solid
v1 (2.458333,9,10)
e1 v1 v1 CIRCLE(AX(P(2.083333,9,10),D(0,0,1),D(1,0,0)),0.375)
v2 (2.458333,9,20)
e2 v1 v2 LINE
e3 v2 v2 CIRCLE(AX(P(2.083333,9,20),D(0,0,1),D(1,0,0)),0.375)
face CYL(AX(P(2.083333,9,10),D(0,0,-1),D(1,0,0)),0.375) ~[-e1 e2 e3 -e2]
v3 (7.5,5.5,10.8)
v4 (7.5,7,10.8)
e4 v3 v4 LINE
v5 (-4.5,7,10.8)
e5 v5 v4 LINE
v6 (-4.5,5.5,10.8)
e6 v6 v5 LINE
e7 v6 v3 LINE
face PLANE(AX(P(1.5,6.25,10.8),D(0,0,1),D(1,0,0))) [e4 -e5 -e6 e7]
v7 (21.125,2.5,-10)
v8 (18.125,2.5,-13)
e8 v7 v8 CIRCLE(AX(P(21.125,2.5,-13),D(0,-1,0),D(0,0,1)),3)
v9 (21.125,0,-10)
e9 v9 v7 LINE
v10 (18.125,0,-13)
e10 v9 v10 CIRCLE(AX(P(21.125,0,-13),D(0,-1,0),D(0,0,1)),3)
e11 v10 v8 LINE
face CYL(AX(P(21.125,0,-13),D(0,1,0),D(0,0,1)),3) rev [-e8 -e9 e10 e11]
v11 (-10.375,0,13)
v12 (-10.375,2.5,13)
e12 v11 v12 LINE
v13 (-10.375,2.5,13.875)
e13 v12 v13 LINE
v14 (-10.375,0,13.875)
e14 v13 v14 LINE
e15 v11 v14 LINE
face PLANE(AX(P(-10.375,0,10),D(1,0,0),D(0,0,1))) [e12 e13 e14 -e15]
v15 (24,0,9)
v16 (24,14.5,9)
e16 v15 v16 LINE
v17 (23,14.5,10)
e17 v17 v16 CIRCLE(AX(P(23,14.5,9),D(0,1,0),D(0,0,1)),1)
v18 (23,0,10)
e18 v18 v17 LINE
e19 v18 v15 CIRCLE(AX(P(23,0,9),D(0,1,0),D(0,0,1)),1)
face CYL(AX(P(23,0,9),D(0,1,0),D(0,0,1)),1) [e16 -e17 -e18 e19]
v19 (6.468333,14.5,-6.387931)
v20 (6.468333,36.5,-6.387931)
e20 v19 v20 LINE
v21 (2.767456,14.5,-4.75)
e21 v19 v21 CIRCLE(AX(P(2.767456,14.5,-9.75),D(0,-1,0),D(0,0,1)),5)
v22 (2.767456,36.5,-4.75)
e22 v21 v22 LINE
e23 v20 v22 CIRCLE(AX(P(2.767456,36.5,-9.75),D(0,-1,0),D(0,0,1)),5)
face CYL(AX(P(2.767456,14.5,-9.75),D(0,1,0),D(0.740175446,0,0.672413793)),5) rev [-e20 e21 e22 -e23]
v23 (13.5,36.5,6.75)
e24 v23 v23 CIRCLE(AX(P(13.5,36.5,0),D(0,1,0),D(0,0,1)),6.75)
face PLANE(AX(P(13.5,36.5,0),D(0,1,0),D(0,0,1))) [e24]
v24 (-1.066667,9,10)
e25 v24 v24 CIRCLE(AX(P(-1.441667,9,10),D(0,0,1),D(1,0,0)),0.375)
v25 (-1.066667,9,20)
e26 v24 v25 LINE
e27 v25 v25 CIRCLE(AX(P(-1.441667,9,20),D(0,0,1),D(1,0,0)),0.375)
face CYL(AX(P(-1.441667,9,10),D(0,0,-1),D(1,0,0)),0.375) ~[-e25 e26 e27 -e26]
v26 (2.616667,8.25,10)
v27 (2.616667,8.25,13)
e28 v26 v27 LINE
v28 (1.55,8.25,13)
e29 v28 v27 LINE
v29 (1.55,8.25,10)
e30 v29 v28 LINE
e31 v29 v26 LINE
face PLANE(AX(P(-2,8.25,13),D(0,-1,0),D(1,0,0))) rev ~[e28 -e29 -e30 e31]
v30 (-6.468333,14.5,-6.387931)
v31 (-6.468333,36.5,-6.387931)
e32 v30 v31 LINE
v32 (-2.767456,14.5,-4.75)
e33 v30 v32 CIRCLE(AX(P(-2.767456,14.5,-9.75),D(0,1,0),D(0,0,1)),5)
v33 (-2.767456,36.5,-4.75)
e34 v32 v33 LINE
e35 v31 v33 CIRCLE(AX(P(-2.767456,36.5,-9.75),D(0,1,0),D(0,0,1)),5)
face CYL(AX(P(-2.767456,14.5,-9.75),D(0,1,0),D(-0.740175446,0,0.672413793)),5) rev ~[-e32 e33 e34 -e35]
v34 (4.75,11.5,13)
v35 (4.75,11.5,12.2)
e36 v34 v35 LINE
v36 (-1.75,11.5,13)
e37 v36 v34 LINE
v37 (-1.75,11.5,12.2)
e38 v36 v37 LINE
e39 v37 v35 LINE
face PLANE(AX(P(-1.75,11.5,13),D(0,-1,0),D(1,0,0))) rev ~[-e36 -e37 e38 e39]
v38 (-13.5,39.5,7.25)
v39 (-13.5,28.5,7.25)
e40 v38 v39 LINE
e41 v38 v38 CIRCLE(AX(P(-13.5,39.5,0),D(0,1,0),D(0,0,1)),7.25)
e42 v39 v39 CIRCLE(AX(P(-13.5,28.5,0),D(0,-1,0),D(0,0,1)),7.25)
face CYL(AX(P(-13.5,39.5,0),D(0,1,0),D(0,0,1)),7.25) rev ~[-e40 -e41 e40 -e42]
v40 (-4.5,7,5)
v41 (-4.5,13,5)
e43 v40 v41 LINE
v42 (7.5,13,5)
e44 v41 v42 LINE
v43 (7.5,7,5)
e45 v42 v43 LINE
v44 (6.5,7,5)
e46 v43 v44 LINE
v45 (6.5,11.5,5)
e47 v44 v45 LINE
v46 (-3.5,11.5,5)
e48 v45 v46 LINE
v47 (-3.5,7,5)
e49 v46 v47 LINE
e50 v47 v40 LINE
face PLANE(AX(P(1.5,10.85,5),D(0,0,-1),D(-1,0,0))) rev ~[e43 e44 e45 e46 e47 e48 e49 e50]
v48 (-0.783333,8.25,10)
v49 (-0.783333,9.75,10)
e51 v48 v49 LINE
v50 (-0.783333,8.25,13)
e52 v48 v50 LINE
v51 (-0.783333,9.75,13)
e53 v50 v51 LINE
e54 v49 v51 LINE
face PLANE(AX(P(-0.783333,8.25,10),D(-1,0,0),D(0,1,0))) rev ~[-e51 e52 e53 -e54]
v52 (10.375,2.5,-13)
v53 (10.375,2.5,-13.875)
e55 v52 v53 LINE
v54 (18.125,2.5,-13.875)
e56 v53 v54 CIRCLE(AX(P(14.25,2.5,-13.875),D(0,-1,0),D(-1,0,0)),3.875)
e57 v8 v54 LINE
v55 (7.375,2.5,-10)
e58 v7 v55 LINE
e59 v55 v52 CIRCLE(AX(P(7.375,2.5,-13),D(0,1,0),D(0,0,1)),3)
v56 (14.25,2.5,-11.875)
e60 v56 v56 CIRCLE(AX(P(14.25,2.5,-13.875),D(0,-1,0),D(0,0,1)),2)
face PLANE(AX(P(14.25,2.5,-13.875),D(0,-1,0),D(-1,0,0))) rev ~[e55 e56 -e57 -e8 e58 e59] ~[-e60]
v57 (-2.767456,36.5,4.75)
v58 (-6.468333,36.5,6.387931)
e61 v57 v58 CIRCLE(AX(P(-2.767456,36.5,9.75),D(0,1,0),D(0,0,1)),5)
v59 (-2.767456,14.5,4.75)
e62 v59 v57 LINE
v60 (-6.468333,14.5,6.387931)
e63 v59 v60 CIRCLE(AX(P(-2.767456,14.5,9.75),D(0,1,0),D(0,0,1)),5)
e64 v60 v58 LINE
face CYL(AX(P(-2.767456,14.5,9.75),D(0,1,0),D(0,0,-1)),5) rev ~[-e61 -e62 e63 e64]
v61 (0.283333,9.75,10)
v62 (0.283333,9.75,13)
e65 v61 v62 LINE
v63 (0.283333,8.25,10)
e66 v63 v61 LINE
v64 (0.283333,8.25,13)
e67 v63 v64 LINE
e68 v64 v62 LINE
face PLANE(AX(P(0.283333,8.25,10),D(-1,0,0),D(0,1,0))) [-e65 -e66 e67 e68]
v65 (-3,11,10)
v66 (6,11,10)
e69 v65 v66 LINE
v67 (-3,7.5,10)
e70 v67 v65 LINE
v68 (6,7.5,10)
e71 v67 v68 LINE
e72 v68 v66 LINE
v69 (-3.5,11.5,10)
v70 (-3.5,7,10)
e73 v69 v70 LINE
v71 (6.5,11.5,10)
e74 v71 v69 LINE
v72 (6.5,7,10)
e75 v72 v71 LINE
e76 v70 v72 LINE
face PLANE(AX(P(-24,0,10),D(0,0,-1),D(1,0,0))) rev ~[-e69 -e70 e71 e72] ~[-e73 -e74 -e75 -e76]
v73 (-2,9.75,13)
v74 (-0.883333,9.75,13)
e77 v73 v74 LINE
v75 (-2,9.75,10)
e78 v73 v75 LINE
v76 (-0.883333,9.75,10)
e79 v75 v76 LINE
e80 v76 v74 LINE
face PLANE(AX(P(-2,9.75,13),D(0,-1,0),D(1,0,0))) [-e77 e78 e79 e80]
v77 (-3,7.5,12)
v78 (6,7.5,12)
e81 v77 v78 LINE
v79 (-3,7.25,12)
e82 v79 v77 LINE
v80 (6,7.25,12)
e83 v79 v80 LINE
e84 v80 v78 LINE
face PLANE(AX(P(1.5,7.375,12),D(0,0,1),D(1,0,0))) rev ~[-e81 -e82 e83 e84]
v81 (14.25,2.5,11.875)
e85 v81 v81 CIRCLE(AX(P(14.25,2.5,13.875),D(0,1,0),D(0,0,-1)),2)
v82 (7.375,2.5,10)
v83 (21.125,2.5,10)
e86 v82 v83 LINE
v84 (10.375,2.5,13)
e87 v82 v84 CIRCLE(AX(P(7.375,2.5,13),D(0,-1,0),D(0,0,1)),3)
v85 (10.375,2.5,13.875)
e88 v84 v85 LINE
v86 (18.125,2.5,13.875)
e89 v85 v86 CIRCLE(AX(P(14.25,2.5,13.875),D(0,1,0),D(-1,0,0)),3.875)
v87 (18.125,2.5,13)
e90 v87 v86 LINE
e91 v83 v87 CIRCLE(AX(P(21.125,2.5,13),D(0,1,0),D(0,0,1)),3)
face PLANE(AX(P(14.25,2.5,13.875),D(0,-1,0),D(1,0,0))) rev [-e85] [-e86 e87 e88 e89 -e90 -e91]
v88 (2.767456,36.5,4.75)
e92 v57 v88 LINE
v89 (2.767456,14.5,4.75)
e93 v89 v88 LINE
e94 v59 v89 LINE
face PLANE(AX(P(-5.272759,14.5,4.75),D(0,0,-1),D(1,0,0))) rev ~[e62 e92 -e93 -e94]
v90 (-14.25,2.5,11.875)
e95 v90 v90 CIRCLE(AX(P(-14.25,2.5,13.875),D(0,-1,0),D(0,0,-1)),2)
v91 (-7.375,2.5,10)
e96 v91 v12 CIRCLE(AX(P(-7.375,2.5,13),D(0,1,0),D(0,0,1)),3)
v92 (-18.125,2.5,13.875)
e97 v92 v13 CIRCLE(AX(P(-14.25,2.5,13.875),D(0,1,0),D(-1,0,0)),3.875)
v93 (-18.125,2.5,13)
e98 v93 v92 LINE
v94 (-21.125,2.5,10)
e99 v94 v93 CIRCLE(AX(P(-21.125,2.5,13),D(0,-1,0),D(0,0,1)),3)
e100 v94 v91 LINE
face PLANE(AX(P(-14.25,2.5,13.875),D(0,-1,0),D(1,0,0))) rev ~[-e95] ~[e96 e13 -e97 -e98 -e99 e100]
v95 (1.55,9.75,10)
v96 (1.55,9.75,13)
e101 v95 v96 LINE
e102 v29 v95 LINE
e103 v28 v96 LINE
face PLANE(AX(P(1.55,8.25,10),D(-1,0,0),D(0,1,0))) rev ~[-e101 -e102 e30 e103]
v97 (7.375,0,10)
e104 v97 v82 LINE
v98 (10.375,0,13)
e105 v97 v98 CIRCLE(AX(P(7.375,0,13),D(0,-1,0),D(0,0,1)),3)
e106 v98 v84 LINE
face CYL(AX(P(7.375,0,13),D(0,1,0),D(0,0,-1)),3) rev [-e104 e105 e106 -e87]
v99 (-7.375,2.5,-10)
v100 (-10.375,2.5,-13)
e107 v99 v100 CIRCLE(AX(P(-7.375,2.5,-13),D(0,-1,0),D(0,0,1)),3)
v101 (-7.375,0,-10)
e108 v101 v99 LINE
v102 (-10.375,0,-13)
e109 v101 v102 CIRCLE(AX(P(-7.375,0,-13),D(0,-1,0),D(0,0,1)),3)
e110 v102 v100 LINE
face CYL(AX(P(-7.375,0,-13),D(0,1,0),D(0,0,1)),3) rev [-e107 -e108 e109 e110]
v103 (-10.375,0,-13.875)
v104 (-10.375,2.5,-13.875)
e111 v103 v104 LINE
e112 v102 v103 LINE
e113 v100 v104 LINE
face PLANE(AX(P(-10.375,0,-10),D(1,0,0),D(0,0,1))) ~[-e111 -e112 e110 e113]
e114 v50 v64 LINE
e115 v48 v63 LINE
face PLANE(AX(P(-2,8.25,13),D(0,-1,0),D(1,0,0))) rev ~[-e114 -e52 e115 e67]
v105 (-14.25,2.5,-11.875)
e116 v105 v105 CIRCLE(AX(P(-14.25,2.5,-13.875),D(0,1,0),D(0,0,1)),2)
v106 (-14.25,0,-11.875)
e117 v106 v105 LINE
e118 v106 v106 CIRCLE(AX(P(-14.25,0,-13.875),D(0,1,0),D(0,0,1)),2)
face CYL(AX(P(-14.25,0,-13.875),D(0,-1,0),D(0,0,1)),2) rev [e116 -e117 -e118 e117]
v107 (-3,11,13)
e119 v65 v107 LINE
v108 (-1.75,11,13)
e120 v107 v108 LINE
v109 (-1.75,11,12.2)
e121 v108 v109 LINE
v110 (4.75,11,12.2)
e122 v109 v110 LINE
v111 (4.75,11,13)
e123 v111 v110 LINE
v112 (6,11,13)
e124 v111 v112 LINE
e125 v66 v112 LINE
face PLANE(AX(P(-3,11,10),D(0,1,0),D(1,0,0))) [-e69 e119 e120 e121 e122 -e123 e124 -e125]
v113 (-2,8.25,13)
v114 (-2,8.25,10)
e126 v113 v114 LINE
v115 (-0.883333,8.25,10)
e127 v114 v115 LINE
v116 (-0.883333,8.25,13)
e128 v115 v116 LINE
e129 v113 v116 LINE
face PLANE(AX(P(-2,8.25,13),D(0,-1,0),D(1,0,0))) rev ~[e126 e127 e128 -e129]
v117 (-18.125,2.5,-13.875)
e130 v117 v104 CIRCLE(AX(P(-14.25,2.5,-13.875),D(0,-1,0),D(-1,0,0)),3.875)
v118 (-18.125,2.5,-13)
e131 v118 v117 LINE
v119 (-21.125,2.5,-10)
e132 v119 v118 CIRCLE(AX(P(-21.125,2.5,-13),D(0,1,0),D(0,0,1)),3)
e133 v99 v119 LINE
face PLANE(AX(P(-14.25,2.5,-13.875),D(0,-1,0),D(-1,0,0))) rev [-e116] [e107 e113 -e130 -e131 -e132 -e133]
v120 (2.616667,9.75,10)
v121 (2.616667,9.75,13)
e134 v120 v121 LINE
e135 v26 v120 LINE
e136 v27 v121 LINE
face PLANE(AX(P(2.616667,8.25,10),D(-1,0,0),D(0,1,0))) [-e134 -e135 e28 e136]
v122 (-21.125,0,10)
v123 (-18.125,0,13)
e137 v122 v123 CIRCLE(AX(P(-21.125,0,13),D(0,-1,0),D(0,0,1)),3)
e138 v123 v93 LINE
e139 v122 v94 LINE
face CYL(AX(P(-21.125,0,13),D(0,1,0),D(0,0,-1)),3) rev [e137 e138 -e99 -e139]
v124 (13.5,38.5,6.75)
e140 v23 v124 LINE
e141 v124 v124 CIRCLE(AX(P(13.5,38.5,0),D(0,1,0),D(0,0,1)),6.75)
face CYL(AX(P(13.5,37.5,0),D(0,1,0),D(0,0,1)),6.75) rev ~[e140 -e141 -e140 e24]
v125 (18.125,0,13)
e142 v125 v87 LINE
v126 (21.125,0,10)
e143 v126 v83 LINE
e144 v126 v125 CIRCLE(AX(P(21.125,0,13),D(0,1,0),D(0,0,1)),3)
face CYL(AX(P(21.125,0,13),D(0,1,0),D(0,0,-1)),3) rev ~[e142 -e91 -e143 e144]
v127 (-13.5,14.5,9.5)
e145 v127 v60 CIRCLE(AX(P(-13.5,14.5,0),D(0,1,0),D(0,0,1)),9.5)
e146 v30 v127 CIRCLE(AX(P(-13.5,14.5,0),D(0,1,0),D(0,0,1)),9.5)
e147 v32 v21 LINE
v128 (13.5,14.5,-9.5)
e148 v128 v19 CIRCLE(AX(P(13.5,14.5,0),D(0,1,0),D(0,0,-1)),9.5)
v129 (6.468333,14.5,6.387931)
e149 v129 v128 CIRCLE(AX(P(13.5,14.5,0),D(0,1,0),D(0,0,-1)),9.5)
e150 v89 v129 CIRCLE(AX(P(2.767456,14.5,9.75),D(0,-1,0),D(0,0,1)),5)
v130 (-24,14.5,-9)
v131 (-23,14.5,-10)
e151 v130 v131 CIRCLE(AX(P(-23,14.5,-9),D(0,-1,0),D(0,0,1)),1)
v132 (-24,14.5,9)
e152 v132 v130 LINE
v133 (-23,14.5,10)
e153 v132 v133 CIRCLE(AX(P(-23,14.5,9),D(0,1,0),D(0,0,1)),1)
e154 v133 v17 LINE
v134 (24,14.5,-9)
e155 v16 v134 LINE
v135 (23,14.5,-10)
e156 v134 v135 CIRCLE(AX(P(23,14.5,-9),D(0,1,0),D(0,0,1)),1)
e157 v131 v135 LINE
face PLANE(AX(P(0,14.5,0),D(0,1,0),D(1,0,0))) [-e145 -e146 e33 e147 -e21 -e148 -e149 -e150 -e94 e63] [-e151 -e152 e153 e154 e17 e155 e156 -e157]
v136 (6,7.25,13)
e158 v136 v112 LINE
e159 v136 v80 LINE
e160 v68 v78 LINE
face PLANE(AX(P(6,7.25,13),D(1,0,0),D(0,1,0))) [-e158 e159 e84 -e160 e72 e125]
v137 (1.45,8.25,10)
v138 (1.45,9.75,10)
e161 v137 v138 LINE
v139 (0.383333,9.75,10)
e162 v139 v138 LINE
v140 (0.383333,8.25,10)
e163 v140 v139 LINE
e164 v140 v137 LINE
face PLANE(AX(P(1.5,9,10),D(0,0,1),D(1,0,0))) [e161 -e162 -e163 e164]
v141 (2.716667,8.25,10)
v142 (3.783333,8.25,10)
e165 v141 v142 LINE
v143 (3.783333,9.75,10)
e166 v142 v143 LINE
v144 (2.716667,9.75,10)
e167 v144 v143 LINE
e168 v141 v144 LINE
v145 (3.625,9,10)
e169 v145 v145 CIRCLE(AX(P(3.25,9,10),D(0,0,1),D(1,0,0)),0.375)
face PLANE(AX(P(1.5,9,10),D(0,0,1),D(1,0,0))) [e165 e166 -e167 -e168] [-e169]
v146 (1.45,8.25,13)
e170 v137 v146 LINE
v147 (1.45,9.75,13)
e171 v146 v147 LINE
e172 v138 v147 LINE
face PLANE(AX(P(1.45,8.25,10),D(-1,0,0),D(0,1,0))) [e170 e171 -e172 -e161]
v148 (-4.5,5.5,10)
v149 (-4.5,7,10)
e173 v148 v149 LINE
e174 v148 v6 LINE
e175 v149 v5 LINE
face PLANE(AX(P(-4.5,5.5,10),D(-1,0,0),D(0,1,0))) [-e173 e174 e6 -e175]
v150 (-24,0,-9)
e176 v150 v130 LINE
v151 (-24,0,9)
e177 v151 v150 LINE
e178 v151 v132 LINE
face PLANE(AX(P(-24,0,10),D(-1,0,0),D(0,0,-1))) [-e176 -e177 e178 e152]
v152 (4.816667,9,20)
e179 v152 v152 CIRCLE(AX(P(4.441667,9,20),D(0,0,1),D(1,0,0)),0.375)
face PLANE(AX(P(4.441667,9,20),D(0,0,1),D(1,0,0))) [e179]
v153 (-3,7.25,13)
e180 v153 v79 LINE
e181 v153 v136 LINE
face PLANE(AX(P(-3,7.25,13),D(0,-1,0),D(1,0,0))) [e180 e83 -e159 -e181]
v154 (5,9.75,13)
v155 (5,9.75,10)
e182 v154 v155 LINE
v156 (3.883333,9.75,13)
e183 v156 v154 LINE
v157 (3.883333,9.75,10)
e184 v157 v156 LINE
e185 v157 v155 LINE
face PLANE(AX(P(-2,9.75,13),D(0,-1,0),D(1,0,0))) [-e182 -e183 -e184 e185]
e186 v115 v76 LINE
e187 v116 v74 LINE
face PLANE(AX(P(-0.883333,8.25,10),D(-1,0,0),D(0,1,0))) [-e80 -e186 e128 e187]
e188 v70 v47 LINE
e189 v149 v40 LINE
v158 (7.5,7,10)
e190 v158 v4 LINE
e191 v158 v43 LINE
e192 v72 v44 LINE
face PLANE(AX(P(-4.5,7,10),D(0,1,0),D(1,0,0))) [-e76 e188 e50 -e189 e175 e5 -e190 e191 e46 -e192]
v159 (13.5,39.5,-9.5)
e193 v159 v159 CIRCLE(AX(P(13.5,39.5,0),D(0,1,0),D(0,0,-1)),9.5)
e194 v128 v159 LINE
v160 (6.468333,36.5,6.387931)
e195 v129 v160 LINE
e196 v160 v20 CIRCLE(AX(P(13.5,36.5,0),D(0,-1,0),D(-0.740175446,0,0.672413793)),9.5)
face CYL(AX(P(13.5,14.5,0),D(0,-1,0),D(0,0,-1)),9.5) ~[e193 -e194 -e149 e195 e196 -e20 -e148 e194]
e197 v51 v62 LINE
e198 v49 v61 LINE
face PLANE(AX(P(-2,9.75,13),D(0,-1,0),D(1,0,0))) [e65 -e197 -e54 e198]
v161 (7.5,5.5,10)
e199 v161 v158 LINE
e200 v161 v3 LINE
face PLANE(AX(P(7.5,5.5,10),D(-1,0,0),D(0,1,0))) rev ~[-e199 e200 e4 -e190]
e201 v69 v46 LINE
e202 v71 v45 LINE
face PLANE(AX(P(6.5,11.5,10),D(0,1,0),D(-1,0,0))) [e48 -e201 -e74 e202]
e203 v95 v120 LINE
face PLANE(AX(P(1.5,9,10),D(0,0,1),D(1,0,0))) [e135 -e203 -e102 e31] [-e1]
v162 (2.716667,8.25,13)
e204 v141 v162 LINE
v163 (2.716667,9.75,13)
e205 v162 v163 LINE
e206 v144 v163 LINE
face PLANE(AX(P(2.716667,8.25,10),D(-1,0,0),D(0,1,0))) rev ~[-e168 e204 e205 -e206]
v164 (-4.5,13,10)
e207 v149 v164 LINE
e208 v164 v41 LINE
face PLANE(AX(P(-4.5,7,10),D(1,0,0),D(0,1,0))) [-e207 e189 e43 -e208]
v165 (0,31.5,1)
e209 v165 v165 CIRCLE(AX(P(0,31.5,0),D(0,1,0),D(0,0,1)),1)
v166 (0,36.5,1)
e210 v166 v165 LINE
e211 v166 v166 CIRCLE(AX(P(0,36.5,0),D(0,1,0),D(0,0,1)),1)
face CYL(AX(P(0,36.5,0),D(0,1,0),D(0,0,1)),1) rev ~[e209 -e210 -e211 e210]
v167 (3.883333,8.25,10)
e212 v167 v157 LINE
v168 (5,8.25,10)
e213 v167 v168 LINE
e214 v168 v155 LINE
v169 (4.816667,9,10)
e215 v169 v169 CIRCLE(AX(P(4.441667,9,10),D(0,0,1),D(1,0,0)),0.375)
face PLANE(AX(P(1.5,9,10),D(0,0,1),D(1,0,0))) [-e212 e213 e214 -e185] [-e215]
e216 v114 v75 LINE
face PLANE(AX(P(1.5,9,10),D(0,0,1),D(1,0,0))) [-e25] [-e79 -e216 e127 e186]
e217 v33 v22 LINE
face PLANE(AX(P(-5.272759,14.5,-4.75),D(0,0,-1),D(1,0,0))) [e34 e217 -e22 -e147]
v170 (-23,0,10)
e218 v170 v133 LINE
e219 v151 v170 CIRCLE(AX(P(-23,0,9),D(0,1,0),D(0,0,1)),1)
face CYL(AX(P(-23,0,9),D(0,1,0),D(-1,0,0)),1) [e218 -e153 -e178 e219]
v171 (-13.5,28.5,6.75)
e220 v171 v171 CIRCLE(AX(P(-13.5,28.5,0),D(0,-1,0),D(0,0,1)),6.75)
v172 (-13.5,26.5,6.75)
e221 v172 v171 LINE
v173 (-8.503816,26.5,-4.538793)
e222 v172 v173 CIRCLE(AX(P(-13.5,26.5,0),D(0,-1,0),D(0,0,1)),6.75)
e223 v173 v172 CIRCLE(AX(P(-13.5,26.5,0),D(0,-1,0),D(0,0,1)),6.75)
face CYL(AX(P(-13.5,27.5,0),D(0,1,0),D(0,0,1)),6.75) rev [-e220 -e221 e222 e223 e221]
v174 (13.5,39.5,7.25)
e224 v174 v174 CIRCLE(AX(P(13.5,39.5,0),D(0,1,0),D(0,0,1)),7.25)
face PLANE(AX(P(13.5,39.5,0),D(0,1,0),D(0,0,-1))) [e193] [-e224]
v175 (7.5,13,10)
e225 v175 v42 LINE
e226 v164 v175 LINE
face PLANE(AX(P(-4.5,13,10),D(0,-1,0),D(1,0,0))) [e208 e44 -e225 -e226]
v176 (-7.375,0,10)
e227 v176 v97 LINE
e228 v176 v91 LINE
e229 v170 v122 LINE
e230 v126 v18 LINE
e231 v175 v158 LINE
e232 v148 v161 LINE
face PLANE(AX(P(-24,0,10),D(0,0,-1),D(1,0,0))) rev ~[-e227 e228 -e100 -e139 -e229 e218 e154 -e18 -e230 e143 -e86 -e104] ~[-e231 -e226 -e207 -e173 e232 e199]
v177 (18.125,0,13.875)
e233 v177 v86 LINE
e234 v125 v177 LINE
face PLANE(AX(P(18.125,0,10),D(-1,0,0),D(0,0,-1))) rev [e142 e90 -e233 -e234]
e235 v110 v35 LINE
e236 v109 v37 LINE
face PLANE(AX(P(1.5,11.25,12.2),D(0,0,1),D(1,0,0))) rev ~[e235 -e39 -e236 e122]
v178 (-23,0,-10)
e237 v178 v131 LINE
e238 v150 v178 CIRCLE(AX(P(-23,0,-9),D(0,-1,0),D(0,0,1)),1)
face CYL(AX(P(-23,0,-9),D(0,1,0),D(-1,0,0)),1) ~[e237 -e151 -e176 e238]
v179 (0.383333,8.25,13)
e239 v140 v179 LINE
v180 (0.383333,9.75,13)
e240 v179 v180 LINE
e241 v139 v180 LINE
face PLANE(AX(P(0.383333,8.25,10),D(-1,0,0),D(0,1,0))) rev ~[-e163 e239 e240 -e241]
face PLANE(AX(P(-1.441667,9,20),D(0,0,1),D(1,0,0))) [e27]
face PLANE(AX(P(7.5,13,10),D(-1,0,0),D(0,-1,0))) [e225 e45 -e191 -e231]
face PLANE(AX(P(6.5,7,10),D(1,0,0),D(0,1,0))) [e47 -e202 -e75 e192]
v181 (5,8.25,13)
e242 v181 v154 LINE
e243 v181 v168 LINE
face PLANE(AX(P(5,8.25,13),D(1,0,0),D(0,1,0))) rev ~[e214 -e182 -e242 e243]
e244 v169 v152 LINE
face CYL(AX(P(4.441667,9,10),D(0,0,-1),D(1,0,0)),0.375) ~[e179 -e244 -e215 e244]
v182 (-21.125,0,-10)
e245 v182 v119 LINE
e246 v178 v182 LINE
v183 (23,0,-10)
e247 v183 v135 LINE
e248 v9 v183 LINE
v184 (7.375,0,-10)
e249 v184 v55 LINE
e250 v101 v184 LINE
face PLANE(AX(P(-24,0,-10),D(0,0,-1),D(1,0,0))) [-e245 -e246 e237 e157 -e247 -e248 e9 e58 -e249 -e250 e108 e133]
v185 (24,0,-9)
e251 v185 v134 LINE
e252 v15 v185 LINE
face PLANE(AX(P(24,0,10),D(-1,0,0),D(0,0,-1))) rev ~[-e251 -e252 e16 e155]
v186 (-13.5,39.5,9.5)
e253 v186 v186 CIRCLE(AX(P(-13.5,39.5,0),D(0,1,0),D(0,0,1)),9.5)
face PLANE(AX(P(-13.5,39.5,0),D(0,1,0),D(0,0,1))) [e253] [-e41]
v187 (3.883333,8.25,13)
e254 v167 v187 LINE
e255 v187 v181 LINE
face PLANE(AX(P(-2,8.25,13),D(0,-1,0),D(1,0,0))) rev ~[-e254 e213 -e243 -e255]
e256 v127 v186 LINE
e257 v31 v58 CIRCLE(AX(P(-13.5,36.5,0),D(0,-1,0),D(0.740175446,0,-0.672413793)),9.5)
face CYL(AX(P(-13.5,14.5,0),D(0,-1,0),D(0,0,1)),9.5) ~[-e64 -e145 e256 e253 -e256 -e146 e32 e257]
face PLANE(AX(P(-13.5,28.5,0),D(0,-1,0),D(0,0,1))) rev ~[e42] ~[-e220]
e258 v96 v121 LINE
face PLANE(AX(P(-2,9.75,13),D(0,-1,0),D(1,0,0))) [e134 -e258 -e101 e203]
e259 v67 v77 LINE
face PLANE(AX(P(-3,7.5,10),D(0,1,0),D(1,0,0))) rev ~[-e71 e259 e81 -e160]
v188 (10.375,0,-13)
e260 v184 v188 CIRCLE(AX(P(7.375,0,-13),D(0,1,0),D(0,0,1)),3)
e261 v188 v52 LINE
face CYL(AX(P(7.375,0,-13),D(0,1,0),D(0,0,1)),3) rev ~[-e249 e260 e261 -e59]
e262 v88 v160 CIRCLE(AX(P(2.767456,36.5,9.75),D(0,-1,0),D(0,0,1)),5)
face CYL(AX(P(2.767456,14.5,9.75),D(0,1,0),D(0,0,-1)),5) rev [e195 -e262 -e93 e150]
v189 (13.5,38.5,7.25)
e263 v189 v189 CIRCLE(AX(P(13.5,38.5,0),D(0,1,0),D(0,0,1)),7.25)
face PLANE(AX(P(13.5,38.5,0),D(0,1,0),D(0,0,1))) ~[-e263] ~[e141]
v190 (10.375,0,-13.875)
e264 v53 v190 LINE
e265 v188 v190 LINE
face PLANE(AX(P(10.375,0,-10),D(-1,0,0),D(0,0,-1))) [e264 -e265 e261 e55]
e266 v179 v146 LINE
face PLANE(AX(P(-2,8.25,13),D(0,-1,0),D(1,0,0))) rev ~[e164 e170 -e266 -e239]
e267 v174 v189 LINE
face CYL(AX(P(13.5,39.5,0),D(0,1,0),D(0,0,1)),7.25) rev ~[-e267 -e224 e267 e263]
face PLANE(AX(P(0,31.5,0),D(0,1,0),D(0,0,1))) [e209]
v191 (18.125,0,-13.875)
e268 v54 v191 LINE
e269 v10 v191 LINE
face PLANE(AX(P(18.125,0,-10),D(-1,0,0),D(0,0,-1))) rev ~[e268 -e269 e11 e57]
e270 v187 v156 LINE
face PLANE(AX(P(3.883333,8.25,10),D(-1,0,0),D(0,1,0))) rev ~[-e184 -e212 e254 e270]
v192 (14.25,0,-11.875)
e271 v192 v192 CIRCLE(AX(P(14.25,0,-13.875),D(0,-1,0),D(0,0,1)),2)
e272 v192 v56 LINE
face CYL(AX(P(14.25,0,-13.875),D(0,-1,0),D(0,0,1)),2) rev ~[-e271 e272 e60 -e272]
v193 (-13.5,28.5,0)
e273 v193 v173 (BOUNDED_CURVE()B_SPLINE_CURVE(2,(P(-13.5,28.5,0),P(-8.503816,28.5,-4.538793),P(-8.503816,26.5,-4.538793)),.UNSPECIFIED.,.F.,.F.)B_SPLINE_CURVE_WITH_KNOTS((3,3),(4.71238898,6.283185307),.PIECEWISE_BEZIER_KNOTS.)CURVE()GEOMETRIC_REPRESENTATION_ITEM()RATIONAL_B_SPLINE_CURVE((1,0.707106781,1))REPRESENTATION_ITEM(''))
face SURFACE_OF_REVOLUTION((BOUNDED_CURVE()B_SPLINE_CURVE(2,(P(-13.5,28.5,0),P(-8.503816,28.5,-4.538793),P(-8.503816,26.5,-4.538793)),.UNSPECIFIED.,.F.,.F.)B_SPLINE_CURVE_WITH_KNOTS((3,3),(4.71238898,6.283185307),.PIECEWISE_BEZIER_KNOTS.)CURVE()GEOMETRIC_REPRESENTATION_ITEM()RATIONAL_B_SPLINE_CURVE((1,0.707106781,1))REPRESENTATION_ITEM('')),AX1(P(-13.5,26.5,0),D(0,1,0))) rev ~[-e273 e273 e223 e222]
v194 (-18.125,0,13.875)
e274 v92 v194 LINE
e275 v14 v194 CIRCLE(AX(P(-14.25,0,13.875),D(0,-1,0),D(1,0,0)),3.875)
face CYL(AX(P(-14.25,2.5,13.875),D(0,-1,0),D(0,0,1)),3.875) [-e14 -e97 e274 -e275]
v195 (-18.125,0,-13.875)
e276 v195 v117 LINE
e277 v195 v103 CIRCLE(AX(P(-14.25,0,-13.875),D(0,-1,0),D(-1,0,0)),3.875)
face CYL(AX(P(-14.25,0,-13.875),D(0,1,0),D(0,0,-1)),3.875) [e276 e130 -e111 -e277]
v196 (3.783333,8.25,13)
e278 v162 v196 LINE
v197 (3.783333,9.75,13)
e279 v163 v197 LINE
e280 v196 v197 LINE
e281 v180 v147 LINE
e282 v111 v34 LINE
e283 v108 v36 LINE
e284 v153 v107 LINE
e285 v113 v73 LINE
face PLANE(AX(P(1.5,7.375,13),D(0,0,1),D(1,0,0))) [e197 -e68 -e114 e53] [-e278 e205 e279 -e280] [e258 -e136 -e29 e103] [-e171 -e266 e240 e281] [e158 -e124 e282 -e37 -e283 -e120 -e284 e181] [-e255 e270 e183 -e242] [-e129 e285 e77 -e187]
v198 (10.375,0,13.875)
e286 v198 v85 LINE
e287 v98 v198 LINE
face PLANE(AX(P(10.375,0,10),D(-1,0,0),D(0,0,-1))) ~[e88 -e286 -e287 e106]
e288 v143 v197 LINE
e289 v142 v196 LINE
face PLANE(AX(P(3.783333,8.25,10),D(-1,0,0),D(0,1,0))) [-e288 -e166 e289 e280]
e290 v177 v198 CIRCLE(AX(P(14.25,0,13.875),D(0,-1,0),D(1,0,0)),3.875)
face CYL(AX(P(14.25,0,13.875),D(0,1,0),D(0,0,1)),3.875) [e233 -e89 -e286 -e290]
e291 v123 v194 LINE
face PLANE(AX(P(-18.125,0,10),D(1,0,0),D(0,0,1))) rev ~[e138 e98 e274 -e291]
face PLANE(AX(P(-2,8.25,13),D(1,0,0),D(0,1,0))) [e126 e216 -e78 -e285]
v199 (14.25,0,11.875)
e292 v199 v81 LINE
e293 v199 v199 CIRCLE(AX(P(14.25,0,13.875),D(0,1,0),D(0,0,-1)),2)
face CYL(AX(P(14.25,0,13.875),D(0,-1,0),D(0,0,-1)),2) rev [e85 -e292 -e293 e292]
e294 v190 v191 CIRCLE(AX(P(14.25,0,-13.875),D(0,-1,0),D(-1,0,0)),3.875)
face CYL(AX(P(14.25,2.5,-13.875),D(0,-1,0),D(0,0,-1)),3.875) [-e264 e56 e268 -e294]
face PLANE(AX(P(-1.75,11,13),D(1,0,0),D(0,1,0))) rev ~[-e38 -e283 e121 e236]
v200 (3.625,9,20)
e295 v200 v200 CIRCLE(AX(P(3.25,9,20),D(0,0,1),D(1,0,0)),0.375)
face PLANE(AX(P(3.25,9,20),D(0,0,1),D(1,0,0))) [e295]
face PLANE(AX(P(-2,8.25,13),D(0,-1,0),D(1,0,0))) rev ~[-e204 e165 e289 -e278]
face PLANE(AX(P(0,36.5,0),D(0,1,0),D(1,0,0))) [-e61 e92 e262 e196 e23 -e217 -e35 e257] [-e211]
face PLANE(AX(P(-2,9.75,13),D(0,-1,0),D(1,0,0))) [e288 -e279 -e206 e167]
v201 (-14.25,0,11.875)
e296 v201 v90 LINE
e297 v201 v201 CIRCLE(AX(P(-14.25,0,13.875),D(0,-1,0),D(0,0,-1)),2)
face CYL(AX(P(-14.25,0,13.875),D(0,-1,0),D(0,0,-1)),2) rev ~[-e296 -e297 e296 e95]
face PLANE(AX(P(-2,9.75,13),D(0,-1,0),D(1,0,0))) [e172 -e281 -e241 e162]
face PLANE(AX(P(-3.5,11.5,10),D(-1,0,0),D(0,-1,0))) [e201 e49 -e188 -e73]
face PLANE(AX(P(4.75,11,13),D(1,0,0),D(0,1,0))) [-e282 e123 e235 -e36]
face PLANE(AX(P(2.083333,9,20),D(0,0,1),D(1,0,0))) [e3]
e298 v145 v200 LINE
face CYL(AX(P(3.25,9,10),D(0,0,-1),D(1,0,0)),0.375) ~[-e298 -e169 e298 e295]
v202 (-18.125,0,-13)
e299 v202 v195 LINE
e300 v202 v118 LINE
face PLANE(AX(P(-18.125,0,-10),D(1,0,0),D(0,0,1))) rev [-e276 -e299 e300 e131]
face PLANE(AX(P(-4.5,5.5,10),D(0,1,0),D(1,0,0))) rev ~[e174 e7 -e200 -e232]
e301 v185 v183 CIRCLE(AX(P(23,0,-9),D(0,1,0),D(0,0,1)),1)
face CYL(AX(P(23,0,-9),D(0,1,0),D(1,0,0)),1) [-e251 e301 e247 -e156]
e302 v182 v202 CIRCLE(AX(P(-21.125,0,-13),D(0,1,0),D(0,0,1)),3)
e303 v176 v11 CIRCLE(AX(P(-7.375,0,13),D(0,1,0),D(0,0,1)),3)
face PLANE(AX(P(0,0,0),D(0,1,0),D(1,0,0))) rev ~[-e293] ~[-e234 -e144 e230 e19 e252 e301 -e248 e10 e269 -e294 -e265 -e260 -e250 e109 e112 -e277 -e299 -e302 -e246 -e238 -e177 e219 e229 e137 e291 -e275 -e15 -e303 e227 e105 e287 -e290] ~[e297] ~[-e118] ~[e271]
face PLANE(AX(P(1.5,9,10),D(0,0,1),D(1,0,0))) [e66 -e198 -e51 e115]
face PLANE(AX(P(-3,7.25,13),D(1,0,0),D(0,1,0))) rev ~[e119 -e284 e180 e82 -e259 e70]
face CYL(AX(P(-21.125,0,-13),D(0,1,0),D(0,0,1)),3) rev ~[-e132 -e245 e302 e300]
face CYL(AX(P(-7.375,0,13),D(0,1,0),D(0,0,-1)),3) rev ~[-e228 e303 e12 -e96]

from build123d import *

# Parameters (mm, degrees)
SKETCH1_W               = 48
SKETCH1_H               = 20
BOSS_EXTRUDE1_DEPTH     = 14.5
FILLET1_R               = 1
SKETCH2_R               = 9.5
BOSS_EXTRUDE2_DEPTH     = 25
SKETCH3_W               = 10.545517328
SKETCH3_H               = 9.5
BOSS_EXTRUDE3_DEPTH     = 22
FILLET2_R               = 5
SKETCH4_R               = 1
CUT_EXTRUDE1_DEPTH      = 5
SKETCH5_R               = 7.25
CUT_EXTRUDE2_DEPTH      = 13
SKETCH6_W               = 0.5
SKETCH6_H               = 2
SKETCH8_R               = 7.25
CUT_EXTRUDE3_DEPTH      = 3
SKETCH9_W               = 0.5
SKETCH9_H               = 2
SKETCH11_W              = 9
SKETCH11_H              = 3.5
BOSS_EXTRUDE4_DEPTH     = 3
SKETCH12_W              = 6.5
SKETCH12_H              = 0.5
BOSS_EXTRUDE5_DEPTH     = 0.8
SKETCH13_W              = 9
SKETCH13_H              = 0.25
BOSS_EXTRUDE6_DEPTH     = 1
SKETCH14_W              = 12
SKETCH14_H              = 1.5
BOSS_EXTRUDE7_DEPTH     = 0.8
CUT_EXTRUDE4_DEPTH      = 5
SKETCH16_W              = 7.75
SKETCH16_H              = 7.75
SKETCH16_R              = 2
BOSS_EXTRUDE8_DEPTH     = 2.5
MIRROR4_COPY_1_SKETCH_W = 7.75
MIRROR4_COPY_1_SKETCH_H = 7.75
MIRROR4_COPY_1_SKETCH_R = 2
MIRROR4_COPY_1_DEPTH    = 2.5
FILLET3_RADIUS          = 3.875
FILLET3_LENGTH          = 2.5
FILLET5_RADIUS          = 3.875
FILLET5_LENGTH          = 2.5
FILLET6_RADIUS          = 3.875
FILLET6_LENGTH          = 2.5
FILLET7_RADIUS          = 3.875
FILLET7_LENGTH          = 2.5
FILLET4_R               = 3
SKETCH17_W              = 7
SKETCH17_H              = 1.5
CUT_EXTRUDE5_DEPTH      = 3
SKETCH18_W              = 0.1
SKETCH18_H              = 1.5
BOSS_EXTRUDE9_DEPTH     = 3
SKETCH19_R              = 0.375
BOSS_EXTRUDE10_DEPTH    = 10


with BuildPart() as part:
    # Sketch1 → Boss-Extrude1 (new body)
    with BuildSketch(Plane(origin=(0, 0, 0), x_dir=(1, 0, 0), z_dir=(0, 1, 0))):
        Rectangle(SKETCH1_W, SKETCH1_H)
    extrude(amount=BOSS_EXTRUDE1_DEPTH)

    # Fillet1
    fillet1_edges = [part.edges().sort_by_distance(p)[0] for p in [
        (-24, 7.25, -10),
        (24, 7.25, -10),
        (24, 7.25, 10),
        (-24, 7.25, 10),
    ]]
    fillet(fillet1_edges, radius=FILLET1_R)

    # Sketch2 → Boss-Extrude2 (add)
    with BuildSketch(Plane(origin=(0, 14.5, 0), x_dir=(1, 0, 0), z_dir=(0, 1, 0))):
        with Locations(Location((-13.5, 0, 0), (0, 0, 270))):
            Circle(SKETCH2_R)
        with Locations(Location((13.5, 0, 0), (0, 0, 90))):
            Circle(SKETCH2_R)
    extrude(amount=BOSS_EXTRUDE2_DEPTH)

    # Sketch3 → Boss-Extrude3 (add)
    with BuildSketch(Plane(origin=(0, 14.5, 0), x_dir=(1, 0, 0), z_dir=(0, 1, 0))):
        Rectangle(SKETCH3_W, SKETCH3_H)
    extrude(amount=BOSS_EXTRUDE3_DEPTH)

    # Fillet2
    fillet2_edges = [part.edges().sort_by_distance(p)[0] for p in [
        (-5.272758664, 25.5, -4.75),
        (-5.272758664, 25.5, 4.75),
        (5.272758664, 25.5, 4.75),
        (5.272758664, 25.5, -4.75),
    ]]
    fillet(fillet2_edges, radius=FILLET2_R)

    # Sketch4 → Cut-Extrude1 (cut)
    with BuildSketch(Plane(origin=(0, 36.5, 0), x_dir=(1, 0, 0), z_dir=(0, 1, 0))):
        with Locations(Location((0, 0, 0), (0, 0, 270))):
            Circle(SKETCH4_R)
    extrude(amount=-CUT_EXTRUDE1_DEPTH, mode=Mode.SUBTRACT)

    # Sketch5 → Cut-Extrude2 (cut)
    with BuildSketch(Plane(origin=(0, 39.5, 0), x_dir=(1, 0, 0), z_dir=(0, 1, 0))):
        with Locations(Location((-13.5, 0, 0), (0, 0, 270))):
            Circle(SKETCH5_R)
    extrude(amount=-CUT_EXTRUDE2_DEPTH, mode=Mode.SUBTRACT)

    # Sketch6 → Revolve1 (revolve)
    with BuildSketch(Plane.XY, mode=Mode.PRIVATE) as revolve1_sk:
        with Locations((-20.5, 27.5)):
            Rectangle(SKETCH6_W, SKETCH6_H)
    revolve(revolve1_sk.sketch.rotate(Axis((-13.5, 39.5, 0), (0, -1, 0)), 270), axis=Axis((-13.5, 39.5, 0), (0, -1, 0)))

    # Sketch7 → Revolve2 (revolve)
    with BuildSketch(Plane.XY, mode=Mode.PRIVATE) as revolve2_sk:
        with BuildLine():
            Line((-20.25, 26.5), (-13.5, 26.5))
            Line((-13.5, 26.5), (-13.5, 28.5))
            add(Edge.make_bspline(
                [(-13.5, 28.5), (-20.25, 28.5), (-20.25, 26.5)],
                knots=[4.71238898, 4.71238898, 4.71238898, 6.283185307, 6.283185307, 6.283185307], degree=2, weights=[1, 0.707106781, 1]))
        make_face()
    revolve(revolve2_sk.sketch.rotate(Axis((-13.5, 26.5, 0), (0, 1, 0)), 222.253636979), axis=Axis((-13.5, 26.5, 0), (0, 1, 0)))

    # Sketch8 → Cut-Extrude3 (cut)
    with BuildSketch(Plane(origin=(0, 39.5, 0), x_dir=(1, 0, 0), z_dir=(0, 1, 0))):
        with Locations(Location((13.5, 0, 0), (0, 0, 270))):
            Circle(SKETCH8_R)
    extrude(amount=-CUT_EXTRUDE3_DEPTH, mode=Mode.SUBTRACT)

    # Sketch9 → Revolve3 (revolve)
    with BuildSketch(Plane.XY, mode=Mode.PRIVATE) as revolve3_sk:
        with Locations((20.5, 37.5)):
            Rectangle(SKETCH9_W, SKETCH9_H)
    revolve(revolve3_sk.sketch.rotate(Axis((13.5, 36.5, 0), (0, 1, 0)), 270), axis=Axis((13.5, 36.5, 0), (0, 1, 0)))

    # Sketch11 → Boss-Extrude4 (add)
    with BuildSketch(Plane.XY.offset(10)):
        with Locations((1.5, 9.25)):
            Rectangle(SKETCH11_W, SKETCH11_H)
    extrude(amount=BOSS_EXTRUDE4_DEPTH)

    # Sketch12 → Boss-Extrude5 (add)
    with BuildSketch(Plane.XY.offset(13)):
        with Locations((1.5, 11.25)):
            Rectangle(SKETCH12_W, SKETCH12_H)
    extrude(amount=-BOSS_EXTRUDE5_DEPTH)

    # Sketch13 → Boss-Extrude6 (add)
    with BuildSketch(Plane.XY.offset(13)):
        with Locations((1.5, 7.375)):
            Rectangle(SKETCH13_W, SKETCH13_H)
    extrude(amount=-BOSS_EXTRUDE6_DEPTH)

    # Sketch14 → Boss-Extrude7 (add)
    with BuildSketch(Plane.XY.offset(10)):
        with Locations((1.5, 6.25)):
            Rectangle(SKETCH14_W, SKETCH14_H)
    extrude(amount=BOSS_EXTRUDE7_DEPTH)

    # Sketch15 → Cut-Extrude4 (cut)
    with BuildSketch(Plane.XY.offset(10)):
        Polygon((-4.5, 7), (-4.5, 13), (7.5, 13), (7.5, 7), (6.5, 7), (6.5, 11.5), (-3.5, 11.5), (-3.5, 7), align=None)
    extrude(amount=-CUT_EXTRUDE4_DEPTH, mode=Mode.SUBTRACT)

    # Sketch16 → Boss-Extrude8 (add)
    with BuildSketch(Plane.XZ):
        with Locations((-14.25, 13.875)):
            Rectangle(SKETCH16_W, SKETCH16_H)
        with Locations(Location((-14.25, 13.875, 0), (0, 0, 270))):
            Circle(SKETCH16_R, mode=Mode.SUBTRACT)
    boss_extrude8 = extrude(amount=-BOSS_EXTRUDE8_DEPTH)

    # Mirror3: Boss-Extrude8 across plane
    add(boss_extrude8.mirror(Plane.XY))

    # Mirror4: Boss-Extrude8 across plane
    add(boss_extrude8.mirror(Plane(origin=(0, 0, 0), x_dir=(0, 0, 1), z_dir=(1, 0, 0))))

    # Mirror4 copy 1 sketch → Mirror4 copy 1 (add)
    with BuildSketch(Plane(origin=(0, 0, 0), x_dir=(-1, 0, 0), z_dir=(0, -1, 0))):
        with Locations((-14.25, 13.875)):
            Rectangle(MIRROR4_COPY_1_SKETCH_W, MIRROR4_COPY_1_SKETCH_H)
        with Locations(Location((-14.25, 13.875, 0), (0, 0, 270))):
            Circle(MIRROR4_COPY_1_SKETCH_R, mode=Mode.SUBTRACT)
    extrude(amount=-MIRROR4_COPY_1_DEPTH)

    # Fillet3: full round fillet: the end face becomes a half cylinder, R = half its width
    fillet3_face = Plane((-14.25, 1.25, 17.75), x_dir=(0, -1, 0), z_dir=(0, 0, 1))  # on the end face: x along it, z out of the body
    fillet3_slab = fillet3_face.offset(-FILLET3_RADIUS / 2) * Box(FILLET3_LENGTH, 2 * FILLET3_RADIUS, FILLET3_RADIUS, mode=Mode.PRIVATE)  # the body's end, R deep
    fillet3_round = Plane((-14.25, 1.25, 13.875), x_dir=(0, 0, 1), z_dir=(0, -1, 0)) * Cylinder(FILLET3_RADIUS, FILLET3_LENGTH, mode=Mode.PRIVATE)  # its axis R under the face
    add(fillet3_slab - fillet3_round, mode=Mode.SUBTRACT)

    # Fillet5: full round fillet: the end face becomes a half cylinder, R = half its width
    fillet5_face = Plane((14.25, 1.25, 17.75), x_dir=(0, 1, 0), z_dir=(0, 0, 1))  # on the end face: x along it, z out of the body
    fillet5_slab = fillet5_face.offset(-FILLET5_RADIUS / 2) * Box(FILLET5_LENGTH, 2 * FILLET5_RADIUS, FILLET5_RADIUS, mode=Mode.PRIVATE)  # the body's end, R deep
    fillet5_round = Plane((14.25, 1.25, 13.875), x_dir=(0, 0, 1), z_dir=(0, 1, 0)) * Cylinder(FILLET5_RADIUS, FILLET5_LENGTH, mode=Mode.PRIVATE)  # its axis R under the face
    add(fillet5_slab - fillet5_round, mode=Mode.SUBTRACT)

    # Fillet6: full round fillet: the end face becomes a half cylinder, R = half its width
    fillet6_face = Plane((-14.25, 1.25, -17.75), x_dir=(0, 1, 0), z_dir=(0, 0, -1))  # on the end face: x along it, z out of the body
    fillet6_slab = fillet6_face.offset(-FILLET6_RADIUS / 2) * Box(FILLET6_LENGTH, 2 * FILLET6_RADIUS, FILLET6_RADIUS, mode=Mode.PRIVATE)  # the body's end, R deep
    fillet6_round = Plane((-14.25, 1.25, -13.875), x_dir=(0, 0, -1), z_dir=(0, 1, 0)) * Cylinder(FILLET6_RADIUS, FILLET6_LENGTH, mode=Mode.PRIVATE)  # its axis R under the face
    add(fillet6_slab - fillet6_round, mode=Mode.SUBTRACT)

    # Fillet7: full round fillet: the end face becomes a half cylinder, R = half its width
    fillet7_face = Plane((14.25, 1.25, -17.75), x_dir=(0, -1, 0), z_dir=(0, 0, -1))  # on the end face: x along it, z out of the body
    fillet7_slab = fillet7_face.offset(-FILLET7_RADIUS / 2) * Box(FILLET7_LENGTH, 2 * FILLET7_RADIUS, FILLET7_RADIUS, mode=Mode.PRIVATE)  # the body's end, R deep
    fillet7_round = Plane((14.25, 1.25, -13.875), x_dir=(0, 0, -1), z_dir=(0, -1, 0)) * Cylinder(FILLET7_RADIUS, FILLET7_LENGTH, mode=Mode.PRIVATE)  # its axis R under the face
    add(fillet7_slab - fillet7_round, mode=Mode.SUBTRACT)

    # Fillet4
    fillet4_edges = [part.edges().sort_by_distance(p)[0] for p in [
        (-18.125, 1.25, 10),
        (-10.375, 1.25, 10),
        (-18.125, 1.25, -10),
        (-10.375, 1.25, -10),
        (18.125, 1.25, 10),
        (10.375, 1.25, 10),
        (18.125, 1.25, -10),
        (10.375, 1.25, -10),
    ]]
    fillet(fillet4_edges, radius=FILLET4_R)

    # Sketch17 → Cut-Extrude5 (cut)
    with BuildSketch(Plane.XY.offset(13)):
        with Locations((1.5, 9)):
            Rectangle(SKETCH17_W, SKETCH17_H)
    extrude(amount=-CUT_EXTRUDE5_DEPTH, mode=Mode.SUBTRACT)

    # Sketch18 → Boss-Extrude9 (add)
    with BuildSketch(Plane.XY.offset(10)):
        with Locations((-0.833333333, 9)):
            Rectangle(SKETCH18_W, SKETCH18_H)
        with Locations((0.333333333, 9)):
            Rectangle(SKETCH18_W, SKETCH18_H)
        with Locations((1.5, 9)):
            Rectangle(SKETCH18_W, SKETCH18_H)
        with Locations((2.666666667, 9)):
            Rectangle(SKETCH18_W, SKETCH18_H)
        with Locations((3.833333333, 9)):
            Rectangle(SKETCH18_W, SKETCH18_H)
    extrude(amount=BOSS_EXTRUDE9_DEPTH)

    # Sketch19 → Boss-Extrude10 (add)
    with BuildSketch(Plane.XY.offset(10)):
        with Locations((-1.441666667, 9)):
            Circle(SKETCH19_R)
        with Locations((2.083333333, 9)):
            Circle(SKETCH19_R)
        with Locations((3.25, 9)):
            Circle(SKETCH19_R)
        with Locations((4.441666667, 9)):
            Circle(SKETCH19_R)
    extrude(amount=BOSS_EXTRUDE10_DEPTH)


solid = part.part
